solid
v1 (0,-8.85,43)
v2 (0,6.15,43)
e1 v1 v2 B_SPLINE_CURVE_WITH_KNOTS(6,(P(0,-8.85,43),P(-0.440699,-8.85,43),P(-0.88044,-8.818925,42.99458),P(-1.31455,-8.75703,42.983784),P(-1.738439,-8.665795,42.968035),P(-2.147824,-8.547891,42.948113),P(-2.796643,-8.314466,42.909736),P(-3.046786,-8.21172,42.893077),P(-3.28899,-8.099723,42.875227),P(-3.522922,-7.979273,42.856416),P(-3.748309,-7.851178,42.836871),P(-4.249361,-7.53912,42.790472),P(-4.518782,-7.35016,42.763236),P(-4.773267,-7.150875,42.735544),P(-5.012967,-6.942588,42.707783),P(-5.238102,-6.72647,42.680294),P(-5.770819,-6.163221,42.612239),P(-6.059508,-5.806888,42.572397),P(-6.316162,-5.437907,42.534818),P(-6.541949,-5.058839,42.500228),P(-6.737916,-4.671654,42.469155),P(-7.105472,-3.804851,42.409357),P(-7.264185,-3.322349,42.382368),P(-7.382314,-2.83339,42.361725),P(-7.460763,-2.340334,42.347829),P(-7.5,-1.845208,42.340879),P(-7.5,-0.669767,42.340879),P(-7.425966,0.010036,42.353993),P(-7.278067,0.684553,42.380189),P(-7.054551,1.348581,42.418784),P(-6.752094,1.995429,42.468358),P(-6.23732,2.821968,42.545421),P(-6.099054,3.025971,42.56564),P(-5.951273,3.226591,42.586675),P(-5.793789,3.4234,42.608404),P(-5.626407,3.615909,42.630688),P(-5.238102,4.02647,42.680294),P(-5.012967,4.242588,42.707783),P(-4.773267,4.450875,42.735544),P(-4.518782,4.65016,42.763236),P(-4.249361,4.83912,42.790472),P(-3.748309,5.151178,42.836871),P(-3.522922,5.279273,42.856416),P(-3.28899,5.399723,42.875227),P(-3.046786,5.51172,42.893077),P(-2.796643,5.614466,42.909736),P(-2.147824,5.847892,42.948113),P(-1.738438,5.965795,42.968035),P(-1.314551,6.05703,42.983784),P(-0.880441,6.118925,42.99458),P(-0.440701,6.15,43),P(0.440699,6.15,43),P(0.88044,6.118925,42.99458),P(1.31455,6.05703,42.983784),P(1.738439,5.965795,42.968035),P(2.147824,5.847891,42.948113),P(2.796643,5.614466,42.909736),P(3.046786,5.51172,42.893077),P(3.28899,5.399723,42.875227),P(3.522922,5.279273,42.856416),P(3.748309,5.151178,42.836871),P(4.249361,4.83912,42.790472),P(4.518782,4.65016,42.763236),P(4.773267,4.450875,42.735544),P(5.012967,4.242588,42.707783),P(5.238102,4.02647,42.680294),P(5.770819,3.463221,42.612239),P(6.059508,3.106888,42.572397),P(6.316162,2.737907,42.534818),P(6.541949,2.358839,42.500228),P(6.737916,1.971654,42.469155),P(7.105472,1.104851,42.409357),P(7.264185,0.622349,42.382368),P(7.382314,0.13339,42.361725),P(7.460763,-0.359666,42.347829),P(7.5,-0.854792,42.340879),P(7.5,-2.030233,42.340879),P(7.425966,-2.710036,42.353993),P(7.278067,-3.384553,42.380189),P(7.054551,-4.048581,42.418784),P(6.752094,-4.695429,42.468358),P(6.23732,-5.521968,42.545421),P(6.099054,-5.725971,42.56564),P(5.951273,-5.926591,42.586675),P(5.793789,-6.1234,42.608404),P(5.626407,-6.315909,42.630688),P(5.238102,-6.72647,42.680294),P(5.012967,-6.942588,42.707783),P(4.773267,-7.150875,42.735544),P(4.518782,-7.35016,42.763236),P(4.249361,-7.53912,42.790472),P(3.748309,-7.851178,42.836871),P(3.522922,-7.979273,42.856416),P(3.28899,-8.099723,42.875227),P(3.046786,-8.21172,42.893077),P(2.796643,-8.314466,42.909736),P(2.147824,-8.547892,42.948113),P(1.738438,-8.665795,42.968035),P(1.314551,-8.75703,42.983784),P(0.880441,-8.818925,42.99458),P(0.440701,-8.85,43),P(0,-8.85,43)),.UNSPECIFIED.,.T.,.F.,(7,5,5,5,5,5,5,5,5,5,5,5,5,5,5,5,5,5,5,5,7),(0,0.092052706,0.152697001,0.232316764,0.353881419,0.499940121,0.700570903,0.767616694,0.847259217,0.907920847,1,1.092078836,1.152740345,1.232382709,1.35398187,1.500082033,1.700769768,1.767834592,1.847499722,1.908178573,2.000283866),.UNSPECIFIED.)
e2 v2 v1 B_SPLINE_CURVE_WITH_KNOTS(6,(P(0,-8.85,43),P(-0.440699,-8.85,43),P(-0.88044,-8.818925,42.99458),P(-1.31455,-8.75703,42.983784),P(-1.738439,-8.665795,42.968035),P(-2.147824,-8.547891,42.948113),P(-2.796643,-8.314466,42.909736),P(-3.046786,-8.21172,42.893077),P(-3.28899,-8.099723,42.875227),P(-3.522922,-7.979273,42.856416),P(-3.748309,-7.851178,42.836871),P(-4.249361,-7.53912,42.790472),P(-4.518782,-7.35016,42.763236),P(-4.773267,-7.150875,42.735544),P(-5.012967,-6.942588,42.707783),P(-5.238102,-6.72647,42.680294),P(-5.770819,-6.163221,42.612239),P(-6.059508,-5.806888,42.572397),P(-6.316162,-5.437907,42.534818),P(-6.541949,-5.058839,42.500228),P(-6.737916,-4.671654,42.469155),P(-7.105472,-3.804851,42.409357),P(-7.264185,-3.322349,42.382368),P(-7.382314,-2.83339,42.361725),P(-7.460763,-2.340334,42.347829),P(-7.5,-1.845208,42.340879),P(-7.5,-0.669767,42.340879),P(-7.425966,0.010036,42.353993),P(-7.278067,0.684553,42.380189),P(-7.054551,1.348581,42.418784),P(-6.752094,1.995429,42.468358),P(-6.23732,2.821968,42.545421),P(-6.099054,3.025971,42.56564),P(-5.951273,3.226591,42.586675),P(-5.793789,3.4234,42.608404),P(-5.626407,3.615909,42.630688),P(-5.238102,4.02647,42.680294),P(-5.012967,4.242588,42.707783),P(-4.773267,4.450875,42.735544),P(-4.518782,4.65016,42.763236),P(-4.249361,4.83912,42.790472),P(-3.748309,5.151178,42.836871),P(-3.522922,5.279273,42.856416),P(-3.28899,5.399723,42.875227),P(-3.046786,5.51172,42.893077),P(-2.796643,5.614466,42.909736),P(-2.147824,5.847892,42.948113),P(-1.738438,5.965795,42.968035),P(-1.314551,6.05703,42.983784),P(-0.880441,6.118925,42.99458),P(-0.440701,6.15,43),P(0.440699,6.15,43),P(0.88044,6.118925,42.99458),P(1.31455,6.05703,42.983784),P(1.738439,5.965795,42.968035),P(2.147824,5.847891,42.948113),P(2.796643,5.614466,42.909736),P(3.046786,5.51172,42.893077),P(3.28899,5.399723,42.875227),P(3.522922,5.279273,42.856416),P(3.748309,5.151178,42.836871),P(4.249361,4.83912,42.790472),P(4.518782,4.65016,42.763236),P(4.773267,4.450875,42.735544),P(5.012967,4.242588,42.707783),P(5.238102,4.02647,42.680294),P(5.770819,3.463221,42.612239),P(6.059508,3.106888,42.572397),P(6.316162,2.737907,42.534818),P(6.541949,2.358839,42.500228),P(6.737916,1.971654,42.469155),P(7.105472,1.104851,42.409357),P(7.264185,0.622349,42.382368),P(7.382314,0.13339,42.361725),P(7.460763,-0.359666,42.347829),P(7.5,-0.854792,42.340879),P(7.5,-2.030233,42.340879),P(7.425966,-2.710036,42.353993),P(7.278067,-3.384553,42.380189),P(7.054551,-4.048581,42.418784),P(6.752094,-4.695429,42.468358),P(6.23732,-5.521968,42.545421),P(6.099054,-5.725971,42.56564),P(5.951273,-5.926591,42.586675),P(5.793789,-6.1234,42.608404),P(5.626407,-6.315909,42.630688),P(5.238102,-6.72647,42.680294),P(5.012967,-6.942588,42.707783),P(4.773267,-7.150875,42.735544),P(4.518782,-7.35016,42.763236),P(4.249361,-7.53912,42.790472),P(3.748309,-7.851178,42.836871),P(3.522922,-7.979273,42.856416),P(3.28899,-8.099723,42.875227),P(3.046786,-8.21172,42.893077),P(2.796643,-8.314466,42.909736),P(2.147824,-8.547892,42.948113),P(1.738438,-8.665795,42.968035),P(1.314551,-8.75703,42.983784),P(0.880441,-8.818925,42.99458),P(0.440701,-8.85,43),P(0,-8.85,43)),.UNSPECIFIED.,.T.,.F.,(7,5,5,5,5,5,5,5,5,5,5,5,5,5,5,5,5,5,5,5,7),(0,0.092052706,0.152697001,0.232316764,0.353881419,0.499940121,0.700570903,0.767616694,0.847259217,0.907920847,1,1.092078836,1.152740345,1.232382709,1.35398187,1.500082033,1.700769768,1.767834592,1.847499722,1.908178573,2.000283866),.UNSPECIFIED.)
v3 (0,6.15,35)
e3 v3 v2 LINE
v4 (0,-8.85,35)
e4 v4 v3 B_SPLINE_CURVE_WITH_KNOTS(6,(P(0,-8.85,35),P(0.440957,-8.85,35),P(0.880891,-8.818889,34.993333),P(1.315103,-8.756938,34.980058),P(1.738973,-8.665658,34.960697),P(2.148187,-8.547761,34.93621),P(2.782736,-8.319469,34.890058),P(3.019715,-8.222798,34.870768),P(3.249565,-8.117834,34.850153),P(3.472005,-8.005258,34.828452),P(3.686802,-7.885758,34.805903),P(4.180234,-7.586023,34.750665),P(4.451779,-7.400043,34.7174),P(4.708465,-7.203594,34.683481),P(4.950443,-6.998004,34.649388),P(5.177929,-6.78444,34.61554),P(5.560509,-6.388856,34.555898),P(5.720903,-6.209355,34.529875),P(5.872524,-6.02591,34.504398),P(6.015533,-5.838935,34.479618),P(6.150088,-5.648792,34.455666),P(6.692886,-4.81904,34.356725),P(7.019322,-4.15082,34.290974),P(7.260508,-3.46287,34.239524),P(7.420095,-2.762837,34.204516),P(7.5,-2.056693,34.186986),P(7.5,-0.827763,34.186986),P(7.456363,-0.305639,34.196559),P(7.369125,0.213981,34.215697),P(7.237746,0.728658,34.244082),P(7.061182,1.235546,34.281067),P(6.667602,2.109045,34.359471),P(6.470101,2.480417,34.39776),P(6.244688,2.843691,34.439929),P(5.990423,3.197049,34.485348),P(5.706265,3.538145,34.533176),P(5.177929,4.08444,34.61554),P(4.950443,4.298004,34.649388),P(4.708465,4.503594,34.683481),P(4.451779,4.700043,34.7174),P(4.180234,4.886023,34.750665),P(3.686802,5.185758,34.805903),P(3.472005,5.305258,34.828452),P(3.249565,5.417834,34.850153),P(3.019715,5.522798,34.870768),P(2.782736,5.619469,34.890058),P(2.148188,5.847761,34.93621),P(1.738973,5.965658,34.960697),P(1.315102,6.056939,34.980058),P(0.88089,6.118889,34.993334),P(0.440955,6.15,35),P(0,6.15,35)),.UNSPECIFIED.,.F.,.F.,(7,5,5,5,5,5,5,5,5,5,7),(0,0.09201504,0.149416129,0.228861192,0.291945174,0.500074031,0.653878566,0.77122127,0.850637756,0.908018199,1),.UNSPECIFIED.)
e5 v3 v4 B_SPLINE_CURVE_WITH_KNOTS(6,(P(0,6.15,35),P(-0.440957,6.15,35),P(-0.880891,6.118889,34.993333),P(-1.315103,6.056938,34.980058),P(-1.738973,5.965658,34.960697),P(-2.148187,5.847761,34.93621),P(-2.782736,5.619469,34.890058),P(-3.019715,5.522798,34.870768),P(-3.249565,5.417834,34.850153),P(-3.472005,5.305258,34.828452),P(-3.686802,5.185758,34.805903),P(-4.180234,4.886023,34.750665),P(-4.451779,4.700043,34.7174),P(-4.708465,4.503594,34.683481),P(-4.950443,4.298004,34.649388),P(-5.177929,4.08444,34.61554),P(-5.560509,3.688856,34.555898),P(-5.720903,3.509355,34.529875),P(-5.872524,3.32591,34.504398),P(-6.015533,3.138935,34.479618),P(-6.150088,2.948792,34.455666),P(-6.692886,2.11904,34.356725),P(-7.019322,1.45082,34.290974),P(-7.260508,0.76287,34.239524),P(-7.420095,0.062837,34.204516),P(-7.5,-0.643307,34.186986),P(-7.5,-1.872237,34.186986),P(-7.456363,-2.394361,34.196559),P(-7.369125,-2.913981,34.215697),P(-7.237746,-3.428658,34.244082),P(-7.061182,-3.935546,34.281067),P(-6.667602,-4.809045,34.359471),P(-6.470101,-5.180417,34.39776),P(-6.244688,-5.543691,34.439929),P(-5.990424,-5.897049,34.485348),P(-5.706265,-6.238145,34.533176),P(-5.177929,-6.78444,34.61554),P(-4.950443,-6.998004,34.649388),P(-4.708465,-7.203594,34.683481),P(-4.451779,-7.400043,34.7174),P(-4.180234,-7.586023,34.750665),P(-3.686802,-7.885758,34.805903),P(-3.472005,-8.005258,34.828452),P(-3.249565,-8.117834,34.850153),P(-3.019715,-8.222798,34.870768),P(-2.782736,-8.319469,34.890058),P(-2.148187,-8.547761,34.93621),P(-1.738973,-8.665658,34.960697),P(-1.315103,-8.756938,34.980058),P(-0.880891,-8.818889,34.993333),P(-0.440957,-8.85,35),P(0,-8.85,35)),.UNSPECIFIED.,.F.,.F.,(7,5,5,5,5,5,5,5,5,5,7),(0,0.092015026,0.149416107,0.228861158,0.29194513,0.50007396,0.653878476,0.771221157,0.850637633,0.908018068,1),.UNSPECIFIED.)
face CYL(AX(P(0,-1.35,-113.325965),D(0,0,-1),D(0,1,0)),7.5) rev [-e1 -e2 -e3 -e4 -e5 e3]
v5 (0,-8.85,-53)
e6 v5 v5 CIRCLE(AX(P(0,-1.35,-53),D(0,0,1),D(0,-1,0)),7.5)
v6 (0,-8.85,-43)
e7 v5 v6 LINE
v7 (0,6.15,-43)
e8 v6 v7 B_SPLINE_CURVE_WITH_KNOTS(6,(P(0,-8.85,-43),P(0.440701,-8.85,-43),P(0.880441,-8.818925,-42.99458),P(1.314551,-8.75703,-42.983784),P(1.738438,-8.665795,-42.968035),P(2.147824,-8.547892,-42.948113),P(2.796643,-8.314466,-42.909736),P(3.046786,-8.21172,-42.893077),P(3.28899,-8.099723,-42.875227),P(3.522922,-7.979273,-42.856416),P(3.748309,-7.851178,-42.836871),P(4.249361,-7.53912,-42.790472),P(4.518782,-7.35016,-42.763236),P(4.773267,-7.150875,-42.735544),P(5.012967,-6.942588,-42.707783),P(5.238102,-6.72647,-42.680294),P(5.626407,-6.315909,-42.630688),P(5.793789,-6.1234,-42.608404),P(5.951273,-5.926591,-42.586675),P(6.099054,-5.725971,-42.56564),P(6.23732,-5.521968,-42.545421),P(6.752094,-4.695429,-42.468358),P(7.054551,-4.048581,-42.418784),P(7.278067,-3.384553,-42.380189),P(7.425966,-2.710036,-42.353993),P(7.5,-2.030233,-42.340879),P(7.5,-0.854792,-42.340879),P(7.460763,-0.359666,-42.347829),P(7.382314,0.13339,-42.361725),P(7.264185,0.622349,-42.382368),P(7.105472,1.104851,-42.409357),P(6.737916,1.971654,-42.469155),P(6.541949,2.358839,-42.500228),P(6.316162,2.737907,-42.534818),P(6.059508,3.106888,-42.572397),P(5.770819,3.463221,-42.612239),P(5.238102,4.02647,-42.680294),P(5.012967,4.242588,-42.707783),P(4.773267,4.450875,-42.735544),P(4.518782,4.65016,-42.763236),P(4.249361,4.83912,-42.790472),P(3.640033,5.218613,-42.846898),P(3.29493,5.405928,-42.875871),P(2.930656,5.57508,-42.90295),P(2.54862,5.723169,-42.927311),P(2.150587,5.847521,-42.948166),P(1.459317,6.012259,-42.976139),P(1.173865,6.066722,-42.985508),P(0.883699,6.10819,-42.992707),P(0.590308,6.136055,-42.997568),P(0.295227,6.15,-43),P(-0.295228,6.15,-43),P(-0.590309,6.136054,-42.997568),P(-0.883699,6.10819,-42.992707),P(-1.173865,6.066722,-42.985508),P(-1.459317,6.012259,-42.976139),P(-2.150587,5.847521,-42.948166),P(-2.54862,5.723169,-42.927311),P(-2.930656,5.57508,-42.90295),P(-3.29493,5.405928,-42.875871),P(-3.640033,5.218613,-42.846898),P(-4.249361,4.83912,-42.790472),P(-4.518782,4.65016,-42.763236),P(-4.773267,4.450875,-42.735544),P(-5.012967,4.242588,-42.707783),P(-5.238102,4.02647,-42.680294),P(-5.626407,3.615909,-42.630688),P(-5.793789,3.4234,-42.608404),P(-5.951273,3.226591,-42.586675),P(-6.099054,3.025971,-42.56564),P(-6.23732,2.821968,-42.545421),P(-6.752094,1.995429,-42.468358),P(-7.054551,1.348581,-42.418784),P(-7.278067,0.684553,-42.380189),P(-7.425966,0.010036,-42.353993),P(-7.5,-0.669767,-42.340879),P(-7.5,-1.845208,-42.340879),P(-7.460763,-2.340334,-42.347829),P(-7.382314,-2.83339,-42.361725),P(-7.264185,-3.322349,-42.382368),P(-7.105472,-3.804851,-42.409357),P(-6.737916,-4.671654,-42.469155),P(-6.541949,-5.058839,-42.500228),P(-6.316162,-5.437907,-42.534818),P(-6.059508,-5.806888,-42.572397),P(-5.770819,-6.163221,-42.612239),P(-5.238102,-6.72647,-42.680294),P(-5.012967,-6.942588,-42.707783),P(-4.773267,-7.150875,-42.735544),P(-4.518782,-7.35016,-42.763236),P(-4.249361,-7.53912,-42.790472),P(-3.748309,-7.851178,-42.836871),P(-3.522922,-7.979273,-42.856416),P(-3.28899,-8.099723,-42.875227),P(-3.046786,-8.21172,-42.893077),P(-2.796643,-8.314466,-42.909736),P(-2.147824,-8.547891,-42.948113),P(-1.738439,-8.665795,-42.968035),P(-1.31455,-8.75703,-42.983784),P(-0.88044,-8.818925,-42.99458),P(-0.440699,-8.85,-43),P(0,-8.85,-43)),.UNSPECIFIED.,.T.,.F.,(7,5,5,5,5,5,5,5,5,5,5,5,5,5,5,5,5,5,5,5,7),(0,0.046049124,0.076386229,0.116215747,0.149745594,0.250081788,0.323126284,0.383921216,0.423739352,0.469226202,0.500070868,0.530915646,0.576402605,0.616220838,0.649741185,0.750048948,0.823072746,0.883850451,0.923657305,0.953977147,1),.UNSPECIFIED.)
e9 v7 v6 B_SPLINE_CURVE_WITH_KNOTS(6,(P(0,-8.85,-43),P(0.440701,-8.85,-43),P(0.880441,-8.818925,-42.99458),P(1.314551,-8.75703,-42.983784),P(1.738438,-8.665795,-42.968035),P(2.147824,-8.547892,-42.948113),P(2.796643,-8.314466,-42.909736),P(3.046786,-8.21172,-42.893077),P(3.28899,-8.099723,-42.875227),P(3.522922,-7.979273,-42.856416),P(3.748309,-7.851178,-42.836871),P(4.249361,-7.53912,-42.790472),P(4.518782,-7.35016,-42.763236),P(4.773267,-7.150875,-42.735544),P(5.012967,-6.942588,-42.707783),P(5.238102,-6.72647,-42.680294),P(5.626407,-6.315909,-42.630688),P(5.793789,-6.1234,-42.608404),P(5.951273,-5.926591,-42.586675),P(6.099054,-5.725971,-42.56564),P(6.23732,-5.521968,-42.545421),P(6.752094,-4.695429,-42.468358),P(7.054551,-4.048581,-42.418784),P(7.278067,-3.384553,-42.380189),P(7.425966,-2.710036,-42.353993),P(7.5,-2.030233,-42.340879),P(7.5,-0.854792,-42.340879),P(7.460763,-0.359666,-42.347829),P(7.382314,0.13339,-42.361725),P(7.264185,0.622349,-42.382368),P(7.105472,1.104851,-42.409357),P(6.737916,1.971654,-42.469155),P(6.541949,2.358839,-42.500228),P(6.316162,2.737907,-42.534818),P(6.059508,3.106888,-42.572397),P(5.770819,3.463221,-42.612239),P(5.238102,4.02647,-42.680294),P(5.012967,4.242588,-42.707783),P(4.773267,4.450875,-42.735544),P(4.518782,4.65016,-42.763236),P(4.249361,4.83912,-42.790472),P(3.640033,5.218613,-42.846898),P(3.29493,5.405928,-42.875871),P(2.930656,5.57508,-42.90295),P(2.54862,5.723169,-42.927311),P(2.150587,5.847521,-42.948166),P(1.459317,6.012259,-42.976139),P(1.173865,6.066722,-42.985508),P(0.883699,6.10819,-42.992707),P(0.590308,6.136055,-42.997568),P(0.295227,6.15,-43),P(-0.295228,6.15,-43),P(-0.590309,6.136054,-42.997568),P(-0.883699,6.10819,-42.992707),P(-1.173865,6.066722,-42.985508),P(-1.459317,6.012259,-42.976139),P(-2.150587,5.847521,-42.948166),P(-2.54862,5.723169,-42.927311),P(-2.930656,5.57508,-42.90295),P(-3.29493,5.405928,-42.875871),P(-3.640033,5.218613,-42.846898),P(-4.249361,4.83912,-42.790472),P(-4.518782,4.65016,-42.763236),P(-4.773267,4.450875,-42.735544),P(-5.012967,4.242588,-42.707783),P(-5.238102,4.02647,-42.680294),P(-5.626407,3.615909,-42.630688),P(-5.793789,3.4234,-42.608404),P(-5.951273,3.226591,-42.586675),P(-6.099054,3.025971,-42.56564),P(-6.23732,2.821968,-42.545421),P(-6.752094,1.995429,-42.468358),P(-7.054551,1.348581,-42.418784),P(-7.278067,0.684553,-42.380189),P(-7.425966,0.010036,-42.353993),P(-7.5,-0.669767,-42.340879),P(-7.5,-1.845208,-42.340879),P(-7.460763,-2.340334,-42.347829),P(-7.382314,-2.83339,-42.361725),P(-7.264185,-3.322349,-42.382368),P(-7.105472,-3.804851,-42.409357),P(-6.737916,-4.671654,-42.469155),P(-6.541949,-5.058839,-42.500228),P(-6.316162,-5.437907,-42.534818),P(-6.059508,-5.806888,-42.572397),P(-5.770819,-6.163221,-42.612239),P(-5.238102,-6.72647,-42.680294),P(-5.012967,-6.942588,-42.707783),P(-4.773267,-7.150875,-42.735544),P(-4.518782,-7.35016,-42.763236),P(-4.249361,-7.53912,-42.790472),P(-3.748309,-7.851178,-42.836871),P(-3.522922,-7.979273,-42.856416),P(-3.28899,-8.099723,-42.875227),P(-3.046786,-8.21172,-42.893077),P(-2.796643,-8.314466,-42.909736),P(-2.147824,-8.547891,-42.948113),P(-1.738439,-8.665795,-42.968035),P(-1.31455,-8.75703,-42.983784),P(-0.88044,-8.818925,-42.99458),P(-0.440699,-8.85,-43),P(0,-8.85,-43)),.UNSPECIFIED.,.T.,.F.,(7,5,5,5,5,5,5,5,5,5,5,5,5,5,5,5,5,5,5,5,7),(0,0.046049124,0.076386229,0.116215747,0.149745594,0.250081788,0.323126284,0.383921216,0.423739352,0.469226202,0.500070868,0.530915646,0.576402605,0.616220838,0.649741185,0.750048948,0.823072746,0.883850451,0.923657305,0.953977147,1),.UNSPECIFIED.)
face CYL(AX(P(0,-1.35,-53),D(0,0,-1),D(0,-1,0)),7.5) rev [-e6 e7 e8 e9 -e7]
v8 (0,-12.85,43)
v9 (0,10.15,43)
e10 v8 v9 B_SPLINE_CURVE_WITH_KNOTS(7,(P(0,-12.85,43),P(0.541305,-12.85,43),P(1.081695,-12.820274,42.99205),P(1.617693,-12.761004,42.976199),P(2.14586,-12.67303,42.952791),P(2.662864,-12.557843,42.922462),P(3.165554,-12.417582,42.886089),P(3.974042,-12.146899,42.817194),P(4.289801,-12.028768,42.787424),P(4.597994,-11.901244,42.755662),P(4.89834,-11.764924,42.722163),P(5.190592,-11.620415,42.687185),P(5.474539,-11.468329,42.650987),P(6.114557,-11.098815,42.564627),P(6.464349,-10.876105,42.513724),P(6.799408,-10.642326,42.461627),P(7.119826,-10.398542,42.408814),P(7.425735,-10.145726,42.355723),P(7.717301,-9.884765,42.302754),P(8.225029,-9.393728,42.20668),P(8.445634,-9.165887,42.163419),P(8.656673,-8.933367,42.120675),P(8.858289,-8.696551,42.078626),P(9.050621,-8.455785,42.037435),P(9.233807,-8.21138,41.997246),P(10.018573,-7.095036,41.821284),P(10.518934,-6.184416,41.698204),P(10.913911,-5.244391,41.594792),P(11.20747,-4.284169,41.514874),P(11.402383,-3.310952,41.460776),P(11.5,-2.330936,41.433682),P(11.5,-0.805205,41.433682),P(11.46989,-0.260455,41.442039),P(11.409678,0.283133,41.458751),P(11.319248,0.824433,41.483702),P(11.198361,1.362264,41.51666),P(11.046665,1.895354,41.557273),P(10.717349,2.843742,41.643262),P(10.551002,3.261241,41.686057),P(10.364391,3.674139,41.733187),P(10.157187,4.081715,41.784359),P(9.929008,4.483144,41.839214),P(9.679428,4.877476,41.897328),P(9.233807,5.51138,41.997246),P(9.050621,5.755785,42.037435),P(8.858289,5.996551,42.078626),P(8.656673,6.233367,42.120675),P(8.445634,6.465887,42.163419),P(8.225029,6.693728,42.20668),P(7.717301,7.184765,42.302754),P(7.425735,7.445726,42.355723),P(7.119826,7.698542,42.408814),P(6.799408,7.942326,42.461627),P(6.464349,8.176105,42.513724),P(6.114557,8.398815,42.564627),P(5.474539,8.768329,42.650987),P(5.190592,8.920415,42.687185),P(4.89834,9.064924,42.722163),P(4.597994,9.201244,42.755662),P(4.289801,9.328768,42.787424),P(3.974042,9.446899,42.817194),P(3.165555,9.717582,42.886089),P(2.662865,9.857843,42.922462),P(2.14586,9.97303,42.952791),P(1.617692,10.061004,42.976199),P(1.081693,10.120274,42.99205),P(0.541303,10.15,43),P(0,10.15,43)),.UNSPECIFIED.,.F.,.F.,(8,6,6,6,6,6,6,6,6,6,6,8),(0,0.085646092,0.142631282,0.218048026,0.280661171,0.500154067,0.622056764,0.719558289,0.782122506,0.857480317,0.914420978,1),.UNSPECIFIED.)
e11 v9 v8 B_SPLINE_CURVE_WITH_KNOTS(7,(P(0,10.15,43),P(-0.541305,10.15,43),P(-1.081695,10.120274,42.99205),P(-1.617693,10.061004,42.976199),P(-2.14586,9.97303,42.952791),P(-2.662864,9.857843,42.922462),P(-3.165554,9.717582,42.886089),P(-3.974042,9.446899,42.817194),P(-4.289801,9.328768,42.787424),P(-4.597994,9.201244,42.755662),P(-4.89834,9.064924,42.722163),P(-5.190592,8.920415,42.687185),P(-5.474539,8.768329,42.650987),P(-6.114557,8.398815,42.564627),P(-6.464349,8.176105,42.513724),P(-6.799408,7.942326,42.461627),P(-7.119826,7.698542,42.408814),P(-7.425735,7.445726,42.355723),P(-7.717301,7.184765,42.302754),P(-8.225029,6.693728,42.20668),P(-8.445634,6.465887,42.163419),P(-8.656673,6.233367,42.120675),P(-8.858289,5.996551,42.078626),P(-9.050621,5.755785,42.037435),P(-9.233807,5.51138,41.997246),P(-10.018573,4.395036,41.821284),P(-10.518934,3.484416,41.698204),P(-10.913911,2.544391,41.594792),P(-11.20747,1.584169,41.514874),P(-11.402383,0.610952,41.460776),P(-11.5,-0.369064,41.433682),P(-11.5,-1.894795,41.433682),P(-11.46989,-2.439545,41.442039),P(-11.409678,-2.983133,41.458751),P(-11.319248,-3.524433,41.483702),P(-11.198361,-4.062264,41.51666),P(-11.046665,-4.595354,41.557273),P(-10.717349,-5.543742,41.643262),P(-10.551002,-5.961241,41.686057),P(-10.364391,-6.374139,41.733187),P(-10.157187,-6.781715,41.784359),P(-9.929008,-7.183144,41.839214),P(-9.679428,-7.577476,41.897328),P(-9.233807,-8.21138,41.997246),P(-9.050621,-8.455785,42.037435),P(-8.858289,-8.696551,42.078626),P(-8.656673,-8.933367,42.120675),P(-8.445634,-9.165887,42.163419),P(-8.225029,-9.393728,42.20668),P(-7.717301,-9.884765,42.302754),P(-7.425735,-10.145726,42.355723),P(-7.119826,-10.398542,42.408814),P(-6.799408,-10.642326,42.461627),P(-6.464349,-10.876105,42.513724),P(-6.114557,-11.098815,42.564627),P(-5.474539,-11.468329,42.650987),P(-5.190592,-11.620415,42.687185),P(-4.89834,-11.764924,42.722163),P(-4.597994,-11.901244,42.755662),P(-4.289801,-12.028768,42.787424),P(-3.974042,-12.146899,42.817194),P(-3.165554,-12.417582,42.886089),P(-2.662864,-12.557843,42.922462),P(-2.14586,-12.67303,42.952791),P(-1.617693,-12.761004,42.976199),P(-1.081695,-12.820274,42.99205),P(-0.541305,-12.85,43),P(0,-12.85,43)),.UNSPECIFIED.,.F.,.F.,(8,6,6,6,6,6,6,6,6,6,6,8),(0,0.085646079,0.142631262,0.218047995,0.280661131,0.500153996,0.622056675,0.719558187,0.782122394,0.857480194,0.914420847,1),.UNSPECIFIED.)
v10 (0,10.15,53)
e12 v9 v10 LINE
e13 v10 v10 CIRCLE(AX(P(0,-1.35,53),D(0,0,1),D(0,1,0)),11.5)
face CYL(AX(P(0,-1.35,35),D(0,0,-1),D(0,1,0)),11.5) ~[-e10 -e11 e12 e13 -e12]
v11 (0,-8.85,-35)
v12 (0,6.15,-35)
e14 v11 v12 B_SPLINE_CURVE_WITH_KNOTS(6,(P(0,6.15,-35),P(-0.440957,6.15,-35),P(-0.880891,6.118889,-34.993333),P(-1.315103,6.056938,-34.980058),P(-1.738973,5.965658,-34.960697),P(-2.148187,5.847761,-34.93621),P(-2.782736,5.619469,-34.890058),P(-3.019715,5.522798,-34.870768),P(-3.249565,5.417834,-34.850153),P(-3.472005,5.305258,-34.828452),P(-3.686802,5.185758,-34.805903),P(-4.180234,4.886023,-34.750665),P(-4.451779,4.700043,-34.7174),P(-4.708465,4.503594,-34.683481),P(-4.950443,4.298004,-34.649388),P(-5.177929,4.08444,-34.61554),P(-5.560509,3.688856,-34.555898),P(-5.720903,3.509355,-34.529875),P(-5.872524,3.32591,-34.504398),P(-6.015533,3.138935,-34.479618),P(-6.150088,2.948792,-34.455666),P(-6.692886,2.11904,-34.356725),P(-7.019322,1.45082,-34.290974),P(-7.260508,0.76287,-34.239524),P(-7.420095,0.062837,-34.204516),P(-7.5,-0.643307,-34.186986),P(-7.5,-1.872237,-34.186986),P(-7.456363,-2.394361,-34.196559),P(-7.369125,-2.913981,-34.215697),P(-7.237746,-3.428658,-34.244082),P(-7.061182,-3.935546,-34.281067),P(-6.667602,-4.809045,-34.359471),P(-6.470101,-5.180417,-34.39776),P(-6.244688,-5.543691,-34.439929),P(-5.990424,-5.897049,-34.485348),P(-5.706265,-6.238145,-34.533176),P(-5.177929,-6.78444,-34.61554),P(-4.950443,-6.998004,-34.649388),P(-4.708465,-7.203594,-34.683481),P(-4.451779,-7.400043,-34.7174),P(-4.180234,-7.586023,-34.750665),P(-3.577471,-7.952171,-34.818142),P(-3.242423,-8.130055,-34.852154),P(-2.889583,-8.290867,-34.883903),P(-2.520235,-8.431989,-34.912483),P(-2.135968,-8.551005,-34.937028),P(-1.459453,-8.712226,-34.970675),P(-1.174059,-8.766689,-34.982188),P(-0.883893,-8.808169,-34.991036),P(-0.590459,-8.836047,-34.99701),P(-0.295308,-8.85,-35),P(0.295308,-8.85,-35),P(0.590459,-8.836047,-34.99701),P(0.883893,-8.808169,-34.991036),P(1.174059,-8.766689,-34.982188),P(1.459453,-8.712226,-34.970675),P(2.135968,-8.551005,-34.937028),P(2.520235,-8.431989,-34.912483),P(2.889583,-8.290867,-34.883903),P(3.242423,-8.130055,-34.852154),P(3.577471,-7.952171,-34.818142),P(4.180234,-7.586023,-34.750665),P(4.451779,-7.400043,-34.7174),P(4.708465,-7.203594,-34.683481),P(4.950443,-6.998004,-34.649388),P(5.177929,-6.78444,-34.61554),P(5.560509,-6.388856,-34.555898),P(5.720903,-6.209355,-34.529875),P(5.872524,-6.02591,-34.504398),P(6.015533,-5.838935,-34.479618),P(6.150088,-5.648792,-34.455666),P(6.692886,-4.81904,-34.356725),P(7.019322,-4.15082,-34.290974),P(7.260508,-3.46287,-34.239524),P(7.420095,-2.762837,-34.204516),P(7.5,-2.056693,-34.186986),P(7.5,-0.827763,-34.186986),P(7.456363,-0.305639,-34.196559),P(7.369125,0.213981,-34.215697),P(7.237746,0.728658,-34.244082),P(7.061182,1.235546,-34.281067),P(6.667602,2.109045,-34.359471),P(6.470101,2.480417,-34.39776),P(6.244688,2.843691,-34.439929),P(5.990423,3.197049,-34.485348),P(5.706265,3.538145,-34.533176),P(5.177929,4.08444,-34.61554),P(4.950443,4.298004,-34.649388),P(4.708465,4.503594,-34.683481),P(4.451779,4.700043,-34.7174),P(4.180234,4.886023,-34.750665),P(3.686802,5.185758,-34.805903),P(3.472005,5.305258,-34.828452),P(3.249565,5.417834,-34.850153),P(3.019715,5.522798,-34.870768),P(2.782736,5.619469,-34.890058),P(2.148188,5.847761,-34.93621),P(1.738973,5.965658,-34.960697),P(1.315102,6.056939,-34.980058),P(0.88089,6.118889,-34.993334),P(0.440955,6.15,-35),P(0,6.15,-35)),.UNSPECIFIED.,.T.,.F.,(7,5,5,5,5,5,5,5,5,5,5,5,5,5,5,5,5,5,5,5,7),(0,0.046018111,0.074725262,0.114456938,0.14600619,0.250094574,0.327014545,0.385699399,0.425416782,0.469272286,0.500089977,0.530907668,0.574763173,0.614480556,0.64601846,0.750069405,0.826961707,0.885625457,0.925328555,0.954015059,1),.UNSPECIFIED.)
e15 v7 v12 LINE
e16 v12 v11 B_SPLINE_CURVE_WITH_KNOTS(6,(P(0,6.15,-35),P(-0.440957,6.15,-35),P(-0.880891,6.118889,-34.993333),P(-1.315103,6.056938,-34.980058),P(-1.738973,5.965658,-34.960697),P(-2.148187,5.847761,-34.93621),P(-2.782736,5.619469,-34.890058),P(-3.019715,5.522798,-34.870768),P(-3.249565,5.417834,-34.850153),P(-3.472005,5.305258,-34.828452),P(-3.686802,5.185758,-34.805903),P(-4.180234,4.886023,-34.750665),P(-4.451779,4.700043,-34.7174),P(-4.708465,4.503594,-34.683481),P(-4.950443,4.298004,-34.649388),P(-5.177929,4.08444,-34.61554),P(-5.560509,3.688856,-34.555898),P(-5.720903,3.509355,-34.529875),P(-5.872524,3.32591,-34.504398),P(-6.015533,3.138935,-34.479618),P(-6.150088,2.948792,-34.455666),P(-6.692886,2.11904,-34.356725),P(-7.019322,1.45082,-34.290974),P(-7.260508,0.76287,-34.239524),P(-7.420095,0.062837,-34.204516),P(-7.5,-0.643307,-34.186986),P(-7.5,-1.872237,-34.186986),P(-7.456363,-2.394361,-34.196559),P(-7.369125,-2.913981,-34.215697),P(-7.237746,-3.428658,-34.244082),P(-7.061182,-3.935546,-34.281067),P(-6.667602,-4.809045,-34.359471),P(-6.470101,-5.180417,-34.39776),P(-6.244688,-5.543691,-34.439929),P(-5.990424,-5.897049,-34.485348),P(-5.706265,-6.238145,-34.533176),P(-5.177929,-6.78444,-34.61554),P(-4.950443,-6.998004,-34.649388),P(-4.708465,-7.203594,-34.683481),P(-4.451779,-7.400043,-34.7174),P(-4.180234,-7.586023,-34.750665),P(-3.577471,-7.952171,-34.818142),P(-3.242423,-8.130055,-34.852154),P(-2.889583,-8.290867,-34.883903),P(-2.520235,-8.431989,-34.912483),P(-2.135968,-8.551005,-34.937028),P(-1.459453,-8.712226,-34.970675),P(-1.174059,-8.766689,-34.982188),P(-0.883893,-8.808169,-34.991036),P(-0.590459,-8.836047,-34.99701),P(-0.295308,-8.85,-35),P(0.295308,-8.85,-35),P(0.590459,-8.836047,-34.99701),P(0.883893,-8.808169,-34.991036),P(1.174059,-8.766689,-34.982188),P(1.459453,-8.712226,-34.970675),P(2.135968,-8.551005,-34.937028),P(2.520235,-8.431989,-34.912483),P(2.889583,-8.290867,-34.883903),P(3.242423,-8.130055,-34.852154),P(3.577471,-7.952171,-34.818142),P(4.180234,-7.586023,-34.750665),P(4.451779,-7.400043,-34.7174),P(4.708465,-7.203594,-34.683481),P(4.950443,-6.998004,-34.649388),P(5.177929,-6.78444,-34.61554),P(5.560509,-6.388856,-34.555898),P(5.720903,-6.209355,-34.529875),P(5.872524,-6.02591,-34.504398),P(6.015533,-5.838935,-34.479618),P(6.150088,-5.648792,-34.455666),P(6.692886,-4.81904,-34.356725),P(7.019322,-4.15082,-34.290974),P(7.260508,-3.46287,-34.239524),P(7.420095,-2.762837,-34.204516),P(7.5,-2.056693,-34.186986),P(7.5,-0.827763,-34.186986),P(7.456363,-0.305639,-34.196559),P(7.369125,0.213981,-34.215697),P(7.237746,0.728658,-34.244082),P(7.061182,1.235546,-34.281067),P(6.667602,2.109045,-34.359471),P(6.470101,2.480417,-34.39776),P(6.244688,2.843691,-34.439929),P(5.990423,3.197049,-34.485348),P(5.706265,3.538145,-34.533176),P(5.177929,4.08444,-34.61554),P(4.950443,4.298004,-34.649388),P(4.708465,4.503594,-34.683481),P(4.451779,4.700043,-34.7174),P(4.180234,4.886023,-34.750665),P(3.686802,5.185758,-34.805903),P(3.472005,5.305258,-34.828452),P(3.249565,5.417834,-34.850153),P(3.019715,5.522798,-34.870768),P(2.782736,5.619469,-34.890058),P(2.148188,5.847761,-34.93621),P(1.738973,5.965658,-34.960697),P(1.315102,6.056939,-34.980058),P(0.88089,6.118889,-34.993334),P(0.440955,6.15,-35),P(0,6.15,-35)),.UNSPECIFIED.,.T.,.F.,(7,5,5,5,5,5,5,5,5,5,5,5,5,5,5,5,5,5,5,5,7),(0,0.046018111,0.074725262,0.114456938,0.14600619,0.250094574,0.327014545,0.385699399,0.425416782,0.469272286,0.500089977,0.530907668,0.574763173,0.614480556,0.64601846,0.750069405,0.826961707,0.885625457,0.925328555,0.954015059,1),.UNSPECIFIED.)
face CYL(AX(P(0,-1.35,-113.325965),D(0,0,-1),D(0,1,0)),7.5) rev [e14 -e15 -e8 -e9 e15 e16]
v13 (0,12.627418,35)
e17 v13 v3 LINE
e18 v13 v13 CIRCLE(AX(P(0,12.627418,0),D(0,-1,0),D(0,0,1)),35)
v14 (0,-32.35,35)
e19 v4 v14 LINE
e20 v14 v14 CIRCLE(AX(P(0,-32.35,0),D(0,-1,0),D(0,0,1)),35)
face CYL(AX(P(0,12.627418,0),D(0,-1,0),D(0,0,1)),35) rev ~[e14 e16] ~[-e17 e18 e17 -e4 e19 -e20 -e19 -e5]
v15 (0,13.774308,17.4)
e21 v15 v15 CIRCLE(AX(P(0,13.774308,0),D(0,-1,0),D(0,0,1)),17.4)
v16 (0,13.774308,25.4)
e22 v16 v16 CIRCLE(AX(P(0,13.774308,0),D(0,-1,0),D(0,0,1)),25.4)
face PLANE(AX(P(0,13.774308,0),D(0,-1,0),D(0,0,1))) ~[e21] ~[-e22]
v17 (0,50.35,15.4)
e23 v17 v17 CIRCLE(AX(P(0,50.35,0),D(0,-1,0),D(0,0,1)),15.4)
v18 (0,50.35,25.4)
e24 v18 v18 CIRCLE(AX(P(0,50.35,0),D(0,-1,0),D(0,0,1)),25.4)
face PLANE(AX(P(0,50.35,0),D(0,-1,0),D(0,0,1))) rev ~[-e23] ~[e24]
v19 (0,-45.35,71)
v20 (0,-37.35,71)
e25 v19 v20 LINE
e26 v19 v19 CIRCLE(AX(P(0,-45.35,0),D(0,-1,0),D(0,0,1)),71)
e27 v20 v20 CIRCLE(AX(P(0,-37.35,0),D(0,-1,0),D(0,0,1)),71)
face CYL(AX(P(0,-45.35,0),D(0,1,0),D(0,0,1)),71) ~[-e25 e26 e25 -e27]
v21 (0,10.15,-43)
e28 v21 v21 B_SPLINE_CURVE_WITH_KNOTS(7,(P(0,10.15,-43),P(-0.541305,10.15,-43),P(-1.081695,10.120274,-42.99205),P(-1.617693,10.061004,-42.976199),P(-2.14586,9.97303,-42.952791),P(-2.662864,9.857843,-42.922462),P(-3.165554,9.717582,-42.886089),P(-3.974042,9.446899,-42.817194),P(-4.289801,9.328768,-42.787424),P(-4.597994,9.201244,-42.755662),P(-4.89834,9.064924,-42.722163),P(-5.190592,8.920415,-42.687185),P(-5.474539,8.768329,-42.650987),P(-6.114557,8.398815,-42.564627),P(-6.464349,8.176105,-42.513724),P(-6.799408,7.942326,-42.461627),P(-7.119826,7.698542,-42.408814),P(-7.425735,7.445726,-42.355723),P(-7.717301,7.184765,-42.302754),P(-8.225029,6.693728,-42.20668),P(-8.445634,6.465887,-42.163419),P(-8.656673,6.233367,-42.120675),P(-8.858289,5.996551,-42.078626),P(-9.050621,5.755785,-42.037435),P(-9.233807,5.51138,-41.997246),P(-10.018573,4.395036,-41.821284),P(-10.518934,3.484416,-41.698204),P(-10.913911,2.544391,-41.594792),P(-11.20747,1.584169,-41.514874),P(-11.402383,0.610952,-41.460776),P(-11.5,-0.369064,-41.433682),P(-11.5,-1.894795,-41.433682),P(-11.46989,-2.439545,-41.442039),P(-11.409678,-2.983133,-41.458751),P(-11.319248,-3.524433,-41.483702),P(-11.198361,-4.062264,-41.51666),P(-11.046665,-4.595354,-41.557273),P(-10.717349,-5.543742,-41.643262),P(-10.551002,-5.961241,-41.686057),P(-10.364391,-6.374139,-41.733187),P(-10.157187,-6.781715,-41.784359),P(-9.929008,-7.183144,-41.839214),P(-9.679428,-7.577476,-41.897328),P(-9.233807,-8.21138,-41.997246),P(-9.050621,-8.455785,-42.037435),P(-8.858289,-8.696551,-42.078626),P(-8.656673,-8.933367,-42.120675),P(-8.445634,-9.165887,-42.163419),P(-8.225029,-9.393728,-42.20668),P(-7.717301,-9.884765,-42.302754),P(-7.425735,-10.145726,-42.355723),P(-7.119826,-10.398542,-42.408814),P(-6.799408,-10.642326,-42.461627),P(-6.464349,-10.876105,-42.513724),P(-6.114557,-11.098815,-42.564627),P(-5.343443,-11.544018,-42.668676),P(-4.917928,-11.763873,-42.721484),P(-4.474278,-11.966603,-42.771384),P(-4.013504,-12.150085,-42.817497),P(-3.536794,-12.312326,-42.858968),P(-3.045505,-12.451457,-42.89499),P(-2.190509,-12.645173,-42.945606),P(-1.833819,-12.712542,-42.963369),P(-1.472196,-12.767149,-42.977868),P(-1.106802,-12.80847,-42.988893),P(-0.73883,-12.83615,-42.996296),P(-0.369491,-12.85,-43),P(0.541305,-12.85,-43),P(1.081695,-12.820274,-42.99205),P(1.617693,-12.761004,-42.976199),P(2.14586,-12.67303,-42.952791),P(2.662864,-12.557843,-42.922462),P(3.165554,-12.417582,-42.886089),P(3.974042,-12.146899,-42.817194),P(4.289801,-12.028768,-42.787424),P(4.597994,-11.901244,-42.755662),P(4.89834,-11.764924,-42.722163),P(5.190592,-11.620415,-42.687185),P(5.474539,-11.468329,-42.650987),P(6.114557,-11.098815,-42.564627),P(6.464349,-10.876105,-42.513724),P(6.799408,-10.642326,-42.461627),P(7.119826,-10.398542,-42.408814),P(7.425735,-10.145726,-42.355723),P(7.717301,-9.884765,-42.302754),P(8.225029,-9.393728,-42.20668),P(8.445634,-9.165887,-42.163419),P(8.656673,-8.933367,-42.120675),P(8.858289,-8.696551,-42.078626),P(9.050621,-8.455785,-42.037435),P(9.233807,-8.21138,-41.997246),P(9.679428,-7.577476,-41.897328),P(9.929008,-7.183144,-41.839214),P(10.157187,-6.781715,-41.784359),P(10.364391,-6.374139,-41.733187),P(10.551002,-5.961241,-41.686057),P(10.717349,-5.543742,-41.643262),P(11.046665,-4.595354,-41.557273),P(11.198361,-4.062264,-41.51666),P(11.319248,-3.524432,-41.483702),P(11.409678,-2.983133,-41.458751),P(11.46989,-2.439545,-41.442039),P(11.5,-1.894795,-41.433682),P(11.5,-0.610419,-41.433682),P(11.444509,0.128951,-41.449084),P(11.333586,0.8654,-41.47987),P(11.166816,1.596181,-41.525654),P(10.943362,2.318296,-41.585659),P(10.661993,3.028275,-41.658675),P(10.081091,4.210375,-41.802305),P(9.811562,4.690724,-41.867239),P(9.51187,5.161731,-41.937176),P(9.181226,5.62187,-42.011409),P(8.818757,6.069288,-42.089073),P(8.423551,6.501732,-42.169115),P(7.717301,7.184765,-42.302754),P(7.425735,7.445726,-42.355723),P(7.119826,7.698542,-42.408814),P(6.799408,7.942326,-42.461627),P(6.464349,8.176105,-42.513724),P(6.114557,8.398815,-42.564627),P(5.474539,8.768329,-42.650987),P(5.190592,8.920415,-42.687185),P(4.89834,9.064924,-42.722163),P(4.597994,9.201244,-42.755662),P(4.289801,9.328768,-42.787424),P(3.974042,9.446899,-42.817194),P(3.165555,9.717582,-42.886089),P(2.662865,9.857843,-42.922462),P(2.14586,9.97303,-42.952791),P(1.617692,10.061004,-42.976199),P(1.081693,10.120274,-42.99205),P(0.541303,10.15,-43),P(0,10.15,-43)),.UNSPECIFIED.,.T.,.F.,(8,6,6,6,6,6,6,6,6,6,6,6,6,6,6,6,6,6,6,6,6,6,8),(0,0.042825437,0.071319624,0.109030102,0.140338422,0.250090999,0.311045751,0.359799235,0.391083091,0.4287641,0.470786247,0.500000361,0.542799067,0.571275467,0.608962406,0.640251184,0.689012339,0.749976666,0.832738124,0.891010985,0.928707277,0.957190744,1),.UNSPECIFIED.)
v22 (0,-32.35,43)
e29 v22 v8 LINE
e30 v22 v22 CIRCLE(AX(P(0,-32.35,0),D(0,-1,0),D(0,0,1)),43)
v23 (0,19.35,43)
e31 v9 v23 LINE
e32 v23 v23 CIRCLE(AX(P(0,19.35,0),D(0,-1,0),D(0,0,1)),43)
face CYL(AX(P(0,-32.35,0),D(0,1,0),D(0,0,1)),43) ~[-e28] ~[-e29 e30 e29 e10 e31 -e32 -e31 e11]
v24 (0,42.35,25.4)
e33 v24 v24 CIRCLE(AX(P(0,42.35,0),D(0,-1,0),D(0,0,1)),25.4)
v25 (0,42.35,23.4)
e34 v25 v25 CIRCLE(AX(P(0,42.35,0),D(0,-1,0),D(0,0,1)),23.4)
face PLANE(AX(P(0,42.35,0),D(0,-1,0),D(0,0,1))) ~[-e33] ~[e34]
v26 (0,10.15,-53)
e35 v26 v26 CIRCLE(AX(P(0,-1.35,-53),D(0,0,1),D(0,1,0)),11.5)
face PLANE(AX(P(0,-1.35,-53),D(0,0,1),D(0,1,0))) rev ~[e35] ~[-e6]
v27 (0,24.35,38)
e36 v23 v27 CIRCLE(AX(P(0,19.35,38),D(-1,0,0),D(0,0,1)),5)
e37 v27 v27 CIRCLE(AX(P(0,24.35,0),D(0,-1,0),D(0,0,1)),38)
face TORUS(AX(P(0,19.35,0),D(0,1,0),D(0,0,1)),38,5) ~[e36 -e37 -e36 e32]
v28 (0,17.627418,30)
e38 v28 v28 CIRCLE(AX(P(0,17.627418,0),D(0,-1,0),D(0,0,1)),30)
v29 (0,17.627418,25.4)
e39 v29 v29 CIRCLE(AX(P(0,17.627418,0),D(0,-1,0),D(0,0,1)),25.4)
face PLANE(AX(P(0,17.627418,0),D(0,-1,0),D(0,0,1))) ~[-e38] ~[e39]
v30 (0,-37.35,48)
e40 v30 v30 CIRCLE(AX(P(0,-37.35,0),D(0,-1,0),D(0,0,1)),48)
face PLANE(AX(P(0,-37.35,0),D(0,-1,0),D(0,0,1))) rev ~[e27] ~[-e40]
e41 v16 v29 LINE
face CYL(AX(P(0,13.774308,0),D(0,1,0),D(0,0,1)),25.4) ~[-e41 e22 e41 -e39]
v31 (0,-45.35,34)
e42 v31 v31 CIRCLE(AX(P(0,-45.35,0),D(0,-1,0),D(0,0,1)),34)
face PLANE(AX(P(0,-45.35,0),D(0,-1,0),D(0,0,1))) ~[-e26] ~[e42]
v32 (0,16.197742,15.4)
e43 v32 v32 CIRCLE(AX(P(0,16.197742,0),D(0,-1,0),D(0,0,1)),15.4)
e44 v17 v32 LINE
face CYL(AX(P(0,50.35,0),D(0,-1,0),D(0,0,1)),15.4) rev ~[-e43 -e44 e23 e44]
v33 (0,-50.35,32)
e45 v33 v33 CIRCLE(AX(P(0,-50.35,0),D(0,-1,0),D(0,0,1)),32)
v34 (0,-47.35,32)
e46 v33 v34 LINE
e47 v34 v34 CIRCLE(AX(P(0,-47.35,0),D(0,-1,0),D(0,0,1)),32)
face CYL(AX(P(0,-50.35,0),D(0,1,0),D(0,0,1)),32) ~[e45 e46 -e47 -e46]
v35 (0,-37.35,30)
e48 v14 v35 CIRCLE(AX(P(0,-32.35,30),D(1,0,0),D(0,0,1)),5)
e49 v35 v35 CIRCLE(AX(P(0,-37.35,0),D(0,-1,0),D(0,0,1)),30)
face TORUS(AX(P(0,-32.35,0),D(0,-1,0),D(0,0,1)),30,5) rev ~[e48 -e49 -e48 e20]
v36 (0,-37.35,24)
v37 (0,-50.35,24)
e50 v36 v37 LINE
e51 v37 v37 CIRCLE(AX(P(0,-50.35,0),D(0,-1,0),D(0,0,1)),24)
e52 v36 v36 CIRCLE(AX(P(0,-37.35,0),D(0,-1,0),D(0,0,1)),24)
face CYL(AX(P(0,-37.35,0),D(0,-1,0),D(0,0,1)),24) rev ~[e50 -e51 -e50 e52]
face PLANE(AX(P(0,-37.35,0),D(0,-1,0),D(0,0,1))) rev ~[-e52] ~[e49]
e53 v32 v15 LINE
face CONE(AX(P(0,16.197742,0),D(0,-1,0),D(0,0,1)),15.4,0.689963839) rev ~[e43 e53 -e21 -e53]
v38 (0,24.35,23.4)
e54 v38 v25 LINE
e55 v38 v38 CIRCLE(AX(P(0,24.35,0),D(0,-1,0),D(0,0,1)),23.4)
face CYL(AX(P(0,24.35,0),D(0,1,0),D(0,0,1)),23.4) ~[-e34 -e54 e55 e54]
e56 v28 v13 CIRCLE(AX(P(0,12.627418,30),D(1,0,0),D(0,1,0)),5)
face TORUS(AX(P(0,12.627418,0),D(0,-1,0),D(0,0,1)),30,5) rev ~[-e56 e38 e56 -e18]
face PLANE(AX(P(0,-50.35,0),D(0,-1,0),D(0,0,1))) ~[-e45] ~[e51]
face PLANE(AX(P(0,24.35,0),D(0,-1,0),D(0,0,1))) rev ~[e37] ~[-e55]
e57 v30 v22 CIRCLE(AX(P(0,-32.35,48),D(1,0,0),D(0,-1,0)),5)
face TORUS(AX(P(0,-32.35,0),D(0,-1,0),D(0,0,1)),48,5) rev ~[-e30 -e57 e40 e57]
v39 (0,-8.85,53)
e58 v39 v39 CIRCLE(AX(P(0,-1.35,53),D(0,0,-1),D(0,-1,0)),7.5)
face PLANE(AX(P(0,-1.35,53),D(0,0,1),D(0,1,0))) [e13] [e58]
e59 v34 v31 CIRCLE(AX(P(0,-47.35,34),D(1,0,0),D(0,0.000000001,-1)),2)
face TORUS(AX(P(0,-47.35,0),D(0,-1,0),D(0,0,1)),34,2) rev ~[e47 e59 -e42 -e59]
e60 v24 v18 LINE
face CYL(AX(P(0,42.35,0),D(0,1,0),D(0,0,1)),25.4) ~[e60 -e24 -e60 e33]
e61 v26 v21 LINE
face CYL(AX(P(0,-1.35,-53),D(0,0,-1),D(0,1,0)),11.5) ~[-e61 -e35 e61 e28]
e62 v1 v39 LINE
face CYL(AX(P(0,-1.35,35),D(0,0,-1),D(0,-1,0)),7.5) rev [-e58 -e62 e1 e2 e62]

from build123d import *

# Parameters (mm, degrees)
BOSS_EXTRUDE1_START     = 35
SKETCH3_R               = 11.5
SKETCH3_R_2             = 7.5
BOSS_EXTRUDE1_DEPTH     = 18
BOSS_EXTRUDE2_START     = -53
SKETCH3_3_R             = 11.5
SKETCH3_3_R_2           = 7.5
BOSS_EXTRUDE2_DEPTH     = 18
CUT_EXTRUDE1_DEPTH      = 113.325965386
CUT_EXTRUDE1_DEPTH_BACK = 113.325965386
SKETCH3_4_R             = 7.5


with BuildPart() as part:
    # Sketch2 → Revolve1 (revolve)
    with BuildSketch(Plane.XY):
        with BuildLine():
            Line((32, -50.35), (32, -47.35))
            ThreePointArc((32, -47.35), (32.585786438, -45.935786438), (34, -45.35))
            Line((34, -45.35), (71, -45.35))
            Line((71, -45.35), (71, -37.35))
            Line((71, -37.35), (48, -37.35))
            ThreePointArc((48, -37.35), (44.464466094, -35.885533906), (43, -32.35))
            Line((43, -32.35), (43, 19.35))
            ThreePointArc((43, 19.35), (41.535533906, 22.885533906), (38, 24.35))
            Line((38, 24.35), (23.4, 24.35))
            Line((23.4, 24.35), (23.4, 42.35))
            Line((23.4, 42.35), (25.4, 42.35))
            Line((25.4, 42.35), (25.4, 50.35))
            Line((25.4, 50.35), (15.4, 50.35))
            Line((15.4, 50.35), (15.4, 16.197741963))
            Line((15.4, 16.197741963), (17.4, 13.774308272))
            Line((17.4, 13.774308272), (25.4, 13.774308272))
            Line((25.4, 13.774308272), (25.4, 17.62741804))
            Line((25.4, 17.62741804), (30, 17.62741804))
            ThreePointArc((30, 17.62741804), (33.535533906, 16.162951946), (35, 12.62741804))
            Line((35, 12.62741804), (35, -32.35))
            ThreePointArc((35, -32.35), (33.535533906, -35.885533906), (30, -37.35))
            Line((30, -37.35), (24, -37.35))
            Line((24, -37.35), (24, -50.35))
            Line((24, -50.35), (32, -50.35))
        make_face()
    revolve(axis=Axis((0, 50.35, 0), (0, -1, 0)))

    # Sketch3 → Boss-Extrude1 (add)
    with BuildSketch(Plane.XY.offset(BOSS_EXTRUDE1_START)):
        with Locations((0, -1.35)):
            Circle(SKETCH3_R)
        with Locations((0, -1.35)):
            Circle(SKETCH3_R_2, mode=Mode.SUBTRACT)
    extrude(amount=BOSS_EXTRUDE1_DEPTH)

    # Sketch3<3> → Boss-Extrude2 (add)
    with BuildSketch(Plane.XY.offset(BOSS_EXTRUDE2_START)):
        with Locations((0, -1.35)):
            Circle(SKETCH3_3_R)
        with Locations((0, -1.35)):
            Circle(SKETCH3_3_R_2, mode=Mode.SUBTRACT)
    extrude(amount=BOSS_EXTRUDE2_DEPTH)

    # Sketch3<4> → Cut-Extrude1 (cut, two sides: drawn at the far end of the back side and taken through both)
    with BuildSketch(Plane.XY.offset(-CUT_EXTRUDE1_DEPTH_BACK)):
        with Locations((0, -1.35)):
            Circle(SKETCH3_4_R)
    extrude(amount=CUT_EXTRUDE1_DEPTH + CUT_EXTRUDE1_DEPTH_BACK, mode=Mode.SUBTRACT)


solid = part.part
